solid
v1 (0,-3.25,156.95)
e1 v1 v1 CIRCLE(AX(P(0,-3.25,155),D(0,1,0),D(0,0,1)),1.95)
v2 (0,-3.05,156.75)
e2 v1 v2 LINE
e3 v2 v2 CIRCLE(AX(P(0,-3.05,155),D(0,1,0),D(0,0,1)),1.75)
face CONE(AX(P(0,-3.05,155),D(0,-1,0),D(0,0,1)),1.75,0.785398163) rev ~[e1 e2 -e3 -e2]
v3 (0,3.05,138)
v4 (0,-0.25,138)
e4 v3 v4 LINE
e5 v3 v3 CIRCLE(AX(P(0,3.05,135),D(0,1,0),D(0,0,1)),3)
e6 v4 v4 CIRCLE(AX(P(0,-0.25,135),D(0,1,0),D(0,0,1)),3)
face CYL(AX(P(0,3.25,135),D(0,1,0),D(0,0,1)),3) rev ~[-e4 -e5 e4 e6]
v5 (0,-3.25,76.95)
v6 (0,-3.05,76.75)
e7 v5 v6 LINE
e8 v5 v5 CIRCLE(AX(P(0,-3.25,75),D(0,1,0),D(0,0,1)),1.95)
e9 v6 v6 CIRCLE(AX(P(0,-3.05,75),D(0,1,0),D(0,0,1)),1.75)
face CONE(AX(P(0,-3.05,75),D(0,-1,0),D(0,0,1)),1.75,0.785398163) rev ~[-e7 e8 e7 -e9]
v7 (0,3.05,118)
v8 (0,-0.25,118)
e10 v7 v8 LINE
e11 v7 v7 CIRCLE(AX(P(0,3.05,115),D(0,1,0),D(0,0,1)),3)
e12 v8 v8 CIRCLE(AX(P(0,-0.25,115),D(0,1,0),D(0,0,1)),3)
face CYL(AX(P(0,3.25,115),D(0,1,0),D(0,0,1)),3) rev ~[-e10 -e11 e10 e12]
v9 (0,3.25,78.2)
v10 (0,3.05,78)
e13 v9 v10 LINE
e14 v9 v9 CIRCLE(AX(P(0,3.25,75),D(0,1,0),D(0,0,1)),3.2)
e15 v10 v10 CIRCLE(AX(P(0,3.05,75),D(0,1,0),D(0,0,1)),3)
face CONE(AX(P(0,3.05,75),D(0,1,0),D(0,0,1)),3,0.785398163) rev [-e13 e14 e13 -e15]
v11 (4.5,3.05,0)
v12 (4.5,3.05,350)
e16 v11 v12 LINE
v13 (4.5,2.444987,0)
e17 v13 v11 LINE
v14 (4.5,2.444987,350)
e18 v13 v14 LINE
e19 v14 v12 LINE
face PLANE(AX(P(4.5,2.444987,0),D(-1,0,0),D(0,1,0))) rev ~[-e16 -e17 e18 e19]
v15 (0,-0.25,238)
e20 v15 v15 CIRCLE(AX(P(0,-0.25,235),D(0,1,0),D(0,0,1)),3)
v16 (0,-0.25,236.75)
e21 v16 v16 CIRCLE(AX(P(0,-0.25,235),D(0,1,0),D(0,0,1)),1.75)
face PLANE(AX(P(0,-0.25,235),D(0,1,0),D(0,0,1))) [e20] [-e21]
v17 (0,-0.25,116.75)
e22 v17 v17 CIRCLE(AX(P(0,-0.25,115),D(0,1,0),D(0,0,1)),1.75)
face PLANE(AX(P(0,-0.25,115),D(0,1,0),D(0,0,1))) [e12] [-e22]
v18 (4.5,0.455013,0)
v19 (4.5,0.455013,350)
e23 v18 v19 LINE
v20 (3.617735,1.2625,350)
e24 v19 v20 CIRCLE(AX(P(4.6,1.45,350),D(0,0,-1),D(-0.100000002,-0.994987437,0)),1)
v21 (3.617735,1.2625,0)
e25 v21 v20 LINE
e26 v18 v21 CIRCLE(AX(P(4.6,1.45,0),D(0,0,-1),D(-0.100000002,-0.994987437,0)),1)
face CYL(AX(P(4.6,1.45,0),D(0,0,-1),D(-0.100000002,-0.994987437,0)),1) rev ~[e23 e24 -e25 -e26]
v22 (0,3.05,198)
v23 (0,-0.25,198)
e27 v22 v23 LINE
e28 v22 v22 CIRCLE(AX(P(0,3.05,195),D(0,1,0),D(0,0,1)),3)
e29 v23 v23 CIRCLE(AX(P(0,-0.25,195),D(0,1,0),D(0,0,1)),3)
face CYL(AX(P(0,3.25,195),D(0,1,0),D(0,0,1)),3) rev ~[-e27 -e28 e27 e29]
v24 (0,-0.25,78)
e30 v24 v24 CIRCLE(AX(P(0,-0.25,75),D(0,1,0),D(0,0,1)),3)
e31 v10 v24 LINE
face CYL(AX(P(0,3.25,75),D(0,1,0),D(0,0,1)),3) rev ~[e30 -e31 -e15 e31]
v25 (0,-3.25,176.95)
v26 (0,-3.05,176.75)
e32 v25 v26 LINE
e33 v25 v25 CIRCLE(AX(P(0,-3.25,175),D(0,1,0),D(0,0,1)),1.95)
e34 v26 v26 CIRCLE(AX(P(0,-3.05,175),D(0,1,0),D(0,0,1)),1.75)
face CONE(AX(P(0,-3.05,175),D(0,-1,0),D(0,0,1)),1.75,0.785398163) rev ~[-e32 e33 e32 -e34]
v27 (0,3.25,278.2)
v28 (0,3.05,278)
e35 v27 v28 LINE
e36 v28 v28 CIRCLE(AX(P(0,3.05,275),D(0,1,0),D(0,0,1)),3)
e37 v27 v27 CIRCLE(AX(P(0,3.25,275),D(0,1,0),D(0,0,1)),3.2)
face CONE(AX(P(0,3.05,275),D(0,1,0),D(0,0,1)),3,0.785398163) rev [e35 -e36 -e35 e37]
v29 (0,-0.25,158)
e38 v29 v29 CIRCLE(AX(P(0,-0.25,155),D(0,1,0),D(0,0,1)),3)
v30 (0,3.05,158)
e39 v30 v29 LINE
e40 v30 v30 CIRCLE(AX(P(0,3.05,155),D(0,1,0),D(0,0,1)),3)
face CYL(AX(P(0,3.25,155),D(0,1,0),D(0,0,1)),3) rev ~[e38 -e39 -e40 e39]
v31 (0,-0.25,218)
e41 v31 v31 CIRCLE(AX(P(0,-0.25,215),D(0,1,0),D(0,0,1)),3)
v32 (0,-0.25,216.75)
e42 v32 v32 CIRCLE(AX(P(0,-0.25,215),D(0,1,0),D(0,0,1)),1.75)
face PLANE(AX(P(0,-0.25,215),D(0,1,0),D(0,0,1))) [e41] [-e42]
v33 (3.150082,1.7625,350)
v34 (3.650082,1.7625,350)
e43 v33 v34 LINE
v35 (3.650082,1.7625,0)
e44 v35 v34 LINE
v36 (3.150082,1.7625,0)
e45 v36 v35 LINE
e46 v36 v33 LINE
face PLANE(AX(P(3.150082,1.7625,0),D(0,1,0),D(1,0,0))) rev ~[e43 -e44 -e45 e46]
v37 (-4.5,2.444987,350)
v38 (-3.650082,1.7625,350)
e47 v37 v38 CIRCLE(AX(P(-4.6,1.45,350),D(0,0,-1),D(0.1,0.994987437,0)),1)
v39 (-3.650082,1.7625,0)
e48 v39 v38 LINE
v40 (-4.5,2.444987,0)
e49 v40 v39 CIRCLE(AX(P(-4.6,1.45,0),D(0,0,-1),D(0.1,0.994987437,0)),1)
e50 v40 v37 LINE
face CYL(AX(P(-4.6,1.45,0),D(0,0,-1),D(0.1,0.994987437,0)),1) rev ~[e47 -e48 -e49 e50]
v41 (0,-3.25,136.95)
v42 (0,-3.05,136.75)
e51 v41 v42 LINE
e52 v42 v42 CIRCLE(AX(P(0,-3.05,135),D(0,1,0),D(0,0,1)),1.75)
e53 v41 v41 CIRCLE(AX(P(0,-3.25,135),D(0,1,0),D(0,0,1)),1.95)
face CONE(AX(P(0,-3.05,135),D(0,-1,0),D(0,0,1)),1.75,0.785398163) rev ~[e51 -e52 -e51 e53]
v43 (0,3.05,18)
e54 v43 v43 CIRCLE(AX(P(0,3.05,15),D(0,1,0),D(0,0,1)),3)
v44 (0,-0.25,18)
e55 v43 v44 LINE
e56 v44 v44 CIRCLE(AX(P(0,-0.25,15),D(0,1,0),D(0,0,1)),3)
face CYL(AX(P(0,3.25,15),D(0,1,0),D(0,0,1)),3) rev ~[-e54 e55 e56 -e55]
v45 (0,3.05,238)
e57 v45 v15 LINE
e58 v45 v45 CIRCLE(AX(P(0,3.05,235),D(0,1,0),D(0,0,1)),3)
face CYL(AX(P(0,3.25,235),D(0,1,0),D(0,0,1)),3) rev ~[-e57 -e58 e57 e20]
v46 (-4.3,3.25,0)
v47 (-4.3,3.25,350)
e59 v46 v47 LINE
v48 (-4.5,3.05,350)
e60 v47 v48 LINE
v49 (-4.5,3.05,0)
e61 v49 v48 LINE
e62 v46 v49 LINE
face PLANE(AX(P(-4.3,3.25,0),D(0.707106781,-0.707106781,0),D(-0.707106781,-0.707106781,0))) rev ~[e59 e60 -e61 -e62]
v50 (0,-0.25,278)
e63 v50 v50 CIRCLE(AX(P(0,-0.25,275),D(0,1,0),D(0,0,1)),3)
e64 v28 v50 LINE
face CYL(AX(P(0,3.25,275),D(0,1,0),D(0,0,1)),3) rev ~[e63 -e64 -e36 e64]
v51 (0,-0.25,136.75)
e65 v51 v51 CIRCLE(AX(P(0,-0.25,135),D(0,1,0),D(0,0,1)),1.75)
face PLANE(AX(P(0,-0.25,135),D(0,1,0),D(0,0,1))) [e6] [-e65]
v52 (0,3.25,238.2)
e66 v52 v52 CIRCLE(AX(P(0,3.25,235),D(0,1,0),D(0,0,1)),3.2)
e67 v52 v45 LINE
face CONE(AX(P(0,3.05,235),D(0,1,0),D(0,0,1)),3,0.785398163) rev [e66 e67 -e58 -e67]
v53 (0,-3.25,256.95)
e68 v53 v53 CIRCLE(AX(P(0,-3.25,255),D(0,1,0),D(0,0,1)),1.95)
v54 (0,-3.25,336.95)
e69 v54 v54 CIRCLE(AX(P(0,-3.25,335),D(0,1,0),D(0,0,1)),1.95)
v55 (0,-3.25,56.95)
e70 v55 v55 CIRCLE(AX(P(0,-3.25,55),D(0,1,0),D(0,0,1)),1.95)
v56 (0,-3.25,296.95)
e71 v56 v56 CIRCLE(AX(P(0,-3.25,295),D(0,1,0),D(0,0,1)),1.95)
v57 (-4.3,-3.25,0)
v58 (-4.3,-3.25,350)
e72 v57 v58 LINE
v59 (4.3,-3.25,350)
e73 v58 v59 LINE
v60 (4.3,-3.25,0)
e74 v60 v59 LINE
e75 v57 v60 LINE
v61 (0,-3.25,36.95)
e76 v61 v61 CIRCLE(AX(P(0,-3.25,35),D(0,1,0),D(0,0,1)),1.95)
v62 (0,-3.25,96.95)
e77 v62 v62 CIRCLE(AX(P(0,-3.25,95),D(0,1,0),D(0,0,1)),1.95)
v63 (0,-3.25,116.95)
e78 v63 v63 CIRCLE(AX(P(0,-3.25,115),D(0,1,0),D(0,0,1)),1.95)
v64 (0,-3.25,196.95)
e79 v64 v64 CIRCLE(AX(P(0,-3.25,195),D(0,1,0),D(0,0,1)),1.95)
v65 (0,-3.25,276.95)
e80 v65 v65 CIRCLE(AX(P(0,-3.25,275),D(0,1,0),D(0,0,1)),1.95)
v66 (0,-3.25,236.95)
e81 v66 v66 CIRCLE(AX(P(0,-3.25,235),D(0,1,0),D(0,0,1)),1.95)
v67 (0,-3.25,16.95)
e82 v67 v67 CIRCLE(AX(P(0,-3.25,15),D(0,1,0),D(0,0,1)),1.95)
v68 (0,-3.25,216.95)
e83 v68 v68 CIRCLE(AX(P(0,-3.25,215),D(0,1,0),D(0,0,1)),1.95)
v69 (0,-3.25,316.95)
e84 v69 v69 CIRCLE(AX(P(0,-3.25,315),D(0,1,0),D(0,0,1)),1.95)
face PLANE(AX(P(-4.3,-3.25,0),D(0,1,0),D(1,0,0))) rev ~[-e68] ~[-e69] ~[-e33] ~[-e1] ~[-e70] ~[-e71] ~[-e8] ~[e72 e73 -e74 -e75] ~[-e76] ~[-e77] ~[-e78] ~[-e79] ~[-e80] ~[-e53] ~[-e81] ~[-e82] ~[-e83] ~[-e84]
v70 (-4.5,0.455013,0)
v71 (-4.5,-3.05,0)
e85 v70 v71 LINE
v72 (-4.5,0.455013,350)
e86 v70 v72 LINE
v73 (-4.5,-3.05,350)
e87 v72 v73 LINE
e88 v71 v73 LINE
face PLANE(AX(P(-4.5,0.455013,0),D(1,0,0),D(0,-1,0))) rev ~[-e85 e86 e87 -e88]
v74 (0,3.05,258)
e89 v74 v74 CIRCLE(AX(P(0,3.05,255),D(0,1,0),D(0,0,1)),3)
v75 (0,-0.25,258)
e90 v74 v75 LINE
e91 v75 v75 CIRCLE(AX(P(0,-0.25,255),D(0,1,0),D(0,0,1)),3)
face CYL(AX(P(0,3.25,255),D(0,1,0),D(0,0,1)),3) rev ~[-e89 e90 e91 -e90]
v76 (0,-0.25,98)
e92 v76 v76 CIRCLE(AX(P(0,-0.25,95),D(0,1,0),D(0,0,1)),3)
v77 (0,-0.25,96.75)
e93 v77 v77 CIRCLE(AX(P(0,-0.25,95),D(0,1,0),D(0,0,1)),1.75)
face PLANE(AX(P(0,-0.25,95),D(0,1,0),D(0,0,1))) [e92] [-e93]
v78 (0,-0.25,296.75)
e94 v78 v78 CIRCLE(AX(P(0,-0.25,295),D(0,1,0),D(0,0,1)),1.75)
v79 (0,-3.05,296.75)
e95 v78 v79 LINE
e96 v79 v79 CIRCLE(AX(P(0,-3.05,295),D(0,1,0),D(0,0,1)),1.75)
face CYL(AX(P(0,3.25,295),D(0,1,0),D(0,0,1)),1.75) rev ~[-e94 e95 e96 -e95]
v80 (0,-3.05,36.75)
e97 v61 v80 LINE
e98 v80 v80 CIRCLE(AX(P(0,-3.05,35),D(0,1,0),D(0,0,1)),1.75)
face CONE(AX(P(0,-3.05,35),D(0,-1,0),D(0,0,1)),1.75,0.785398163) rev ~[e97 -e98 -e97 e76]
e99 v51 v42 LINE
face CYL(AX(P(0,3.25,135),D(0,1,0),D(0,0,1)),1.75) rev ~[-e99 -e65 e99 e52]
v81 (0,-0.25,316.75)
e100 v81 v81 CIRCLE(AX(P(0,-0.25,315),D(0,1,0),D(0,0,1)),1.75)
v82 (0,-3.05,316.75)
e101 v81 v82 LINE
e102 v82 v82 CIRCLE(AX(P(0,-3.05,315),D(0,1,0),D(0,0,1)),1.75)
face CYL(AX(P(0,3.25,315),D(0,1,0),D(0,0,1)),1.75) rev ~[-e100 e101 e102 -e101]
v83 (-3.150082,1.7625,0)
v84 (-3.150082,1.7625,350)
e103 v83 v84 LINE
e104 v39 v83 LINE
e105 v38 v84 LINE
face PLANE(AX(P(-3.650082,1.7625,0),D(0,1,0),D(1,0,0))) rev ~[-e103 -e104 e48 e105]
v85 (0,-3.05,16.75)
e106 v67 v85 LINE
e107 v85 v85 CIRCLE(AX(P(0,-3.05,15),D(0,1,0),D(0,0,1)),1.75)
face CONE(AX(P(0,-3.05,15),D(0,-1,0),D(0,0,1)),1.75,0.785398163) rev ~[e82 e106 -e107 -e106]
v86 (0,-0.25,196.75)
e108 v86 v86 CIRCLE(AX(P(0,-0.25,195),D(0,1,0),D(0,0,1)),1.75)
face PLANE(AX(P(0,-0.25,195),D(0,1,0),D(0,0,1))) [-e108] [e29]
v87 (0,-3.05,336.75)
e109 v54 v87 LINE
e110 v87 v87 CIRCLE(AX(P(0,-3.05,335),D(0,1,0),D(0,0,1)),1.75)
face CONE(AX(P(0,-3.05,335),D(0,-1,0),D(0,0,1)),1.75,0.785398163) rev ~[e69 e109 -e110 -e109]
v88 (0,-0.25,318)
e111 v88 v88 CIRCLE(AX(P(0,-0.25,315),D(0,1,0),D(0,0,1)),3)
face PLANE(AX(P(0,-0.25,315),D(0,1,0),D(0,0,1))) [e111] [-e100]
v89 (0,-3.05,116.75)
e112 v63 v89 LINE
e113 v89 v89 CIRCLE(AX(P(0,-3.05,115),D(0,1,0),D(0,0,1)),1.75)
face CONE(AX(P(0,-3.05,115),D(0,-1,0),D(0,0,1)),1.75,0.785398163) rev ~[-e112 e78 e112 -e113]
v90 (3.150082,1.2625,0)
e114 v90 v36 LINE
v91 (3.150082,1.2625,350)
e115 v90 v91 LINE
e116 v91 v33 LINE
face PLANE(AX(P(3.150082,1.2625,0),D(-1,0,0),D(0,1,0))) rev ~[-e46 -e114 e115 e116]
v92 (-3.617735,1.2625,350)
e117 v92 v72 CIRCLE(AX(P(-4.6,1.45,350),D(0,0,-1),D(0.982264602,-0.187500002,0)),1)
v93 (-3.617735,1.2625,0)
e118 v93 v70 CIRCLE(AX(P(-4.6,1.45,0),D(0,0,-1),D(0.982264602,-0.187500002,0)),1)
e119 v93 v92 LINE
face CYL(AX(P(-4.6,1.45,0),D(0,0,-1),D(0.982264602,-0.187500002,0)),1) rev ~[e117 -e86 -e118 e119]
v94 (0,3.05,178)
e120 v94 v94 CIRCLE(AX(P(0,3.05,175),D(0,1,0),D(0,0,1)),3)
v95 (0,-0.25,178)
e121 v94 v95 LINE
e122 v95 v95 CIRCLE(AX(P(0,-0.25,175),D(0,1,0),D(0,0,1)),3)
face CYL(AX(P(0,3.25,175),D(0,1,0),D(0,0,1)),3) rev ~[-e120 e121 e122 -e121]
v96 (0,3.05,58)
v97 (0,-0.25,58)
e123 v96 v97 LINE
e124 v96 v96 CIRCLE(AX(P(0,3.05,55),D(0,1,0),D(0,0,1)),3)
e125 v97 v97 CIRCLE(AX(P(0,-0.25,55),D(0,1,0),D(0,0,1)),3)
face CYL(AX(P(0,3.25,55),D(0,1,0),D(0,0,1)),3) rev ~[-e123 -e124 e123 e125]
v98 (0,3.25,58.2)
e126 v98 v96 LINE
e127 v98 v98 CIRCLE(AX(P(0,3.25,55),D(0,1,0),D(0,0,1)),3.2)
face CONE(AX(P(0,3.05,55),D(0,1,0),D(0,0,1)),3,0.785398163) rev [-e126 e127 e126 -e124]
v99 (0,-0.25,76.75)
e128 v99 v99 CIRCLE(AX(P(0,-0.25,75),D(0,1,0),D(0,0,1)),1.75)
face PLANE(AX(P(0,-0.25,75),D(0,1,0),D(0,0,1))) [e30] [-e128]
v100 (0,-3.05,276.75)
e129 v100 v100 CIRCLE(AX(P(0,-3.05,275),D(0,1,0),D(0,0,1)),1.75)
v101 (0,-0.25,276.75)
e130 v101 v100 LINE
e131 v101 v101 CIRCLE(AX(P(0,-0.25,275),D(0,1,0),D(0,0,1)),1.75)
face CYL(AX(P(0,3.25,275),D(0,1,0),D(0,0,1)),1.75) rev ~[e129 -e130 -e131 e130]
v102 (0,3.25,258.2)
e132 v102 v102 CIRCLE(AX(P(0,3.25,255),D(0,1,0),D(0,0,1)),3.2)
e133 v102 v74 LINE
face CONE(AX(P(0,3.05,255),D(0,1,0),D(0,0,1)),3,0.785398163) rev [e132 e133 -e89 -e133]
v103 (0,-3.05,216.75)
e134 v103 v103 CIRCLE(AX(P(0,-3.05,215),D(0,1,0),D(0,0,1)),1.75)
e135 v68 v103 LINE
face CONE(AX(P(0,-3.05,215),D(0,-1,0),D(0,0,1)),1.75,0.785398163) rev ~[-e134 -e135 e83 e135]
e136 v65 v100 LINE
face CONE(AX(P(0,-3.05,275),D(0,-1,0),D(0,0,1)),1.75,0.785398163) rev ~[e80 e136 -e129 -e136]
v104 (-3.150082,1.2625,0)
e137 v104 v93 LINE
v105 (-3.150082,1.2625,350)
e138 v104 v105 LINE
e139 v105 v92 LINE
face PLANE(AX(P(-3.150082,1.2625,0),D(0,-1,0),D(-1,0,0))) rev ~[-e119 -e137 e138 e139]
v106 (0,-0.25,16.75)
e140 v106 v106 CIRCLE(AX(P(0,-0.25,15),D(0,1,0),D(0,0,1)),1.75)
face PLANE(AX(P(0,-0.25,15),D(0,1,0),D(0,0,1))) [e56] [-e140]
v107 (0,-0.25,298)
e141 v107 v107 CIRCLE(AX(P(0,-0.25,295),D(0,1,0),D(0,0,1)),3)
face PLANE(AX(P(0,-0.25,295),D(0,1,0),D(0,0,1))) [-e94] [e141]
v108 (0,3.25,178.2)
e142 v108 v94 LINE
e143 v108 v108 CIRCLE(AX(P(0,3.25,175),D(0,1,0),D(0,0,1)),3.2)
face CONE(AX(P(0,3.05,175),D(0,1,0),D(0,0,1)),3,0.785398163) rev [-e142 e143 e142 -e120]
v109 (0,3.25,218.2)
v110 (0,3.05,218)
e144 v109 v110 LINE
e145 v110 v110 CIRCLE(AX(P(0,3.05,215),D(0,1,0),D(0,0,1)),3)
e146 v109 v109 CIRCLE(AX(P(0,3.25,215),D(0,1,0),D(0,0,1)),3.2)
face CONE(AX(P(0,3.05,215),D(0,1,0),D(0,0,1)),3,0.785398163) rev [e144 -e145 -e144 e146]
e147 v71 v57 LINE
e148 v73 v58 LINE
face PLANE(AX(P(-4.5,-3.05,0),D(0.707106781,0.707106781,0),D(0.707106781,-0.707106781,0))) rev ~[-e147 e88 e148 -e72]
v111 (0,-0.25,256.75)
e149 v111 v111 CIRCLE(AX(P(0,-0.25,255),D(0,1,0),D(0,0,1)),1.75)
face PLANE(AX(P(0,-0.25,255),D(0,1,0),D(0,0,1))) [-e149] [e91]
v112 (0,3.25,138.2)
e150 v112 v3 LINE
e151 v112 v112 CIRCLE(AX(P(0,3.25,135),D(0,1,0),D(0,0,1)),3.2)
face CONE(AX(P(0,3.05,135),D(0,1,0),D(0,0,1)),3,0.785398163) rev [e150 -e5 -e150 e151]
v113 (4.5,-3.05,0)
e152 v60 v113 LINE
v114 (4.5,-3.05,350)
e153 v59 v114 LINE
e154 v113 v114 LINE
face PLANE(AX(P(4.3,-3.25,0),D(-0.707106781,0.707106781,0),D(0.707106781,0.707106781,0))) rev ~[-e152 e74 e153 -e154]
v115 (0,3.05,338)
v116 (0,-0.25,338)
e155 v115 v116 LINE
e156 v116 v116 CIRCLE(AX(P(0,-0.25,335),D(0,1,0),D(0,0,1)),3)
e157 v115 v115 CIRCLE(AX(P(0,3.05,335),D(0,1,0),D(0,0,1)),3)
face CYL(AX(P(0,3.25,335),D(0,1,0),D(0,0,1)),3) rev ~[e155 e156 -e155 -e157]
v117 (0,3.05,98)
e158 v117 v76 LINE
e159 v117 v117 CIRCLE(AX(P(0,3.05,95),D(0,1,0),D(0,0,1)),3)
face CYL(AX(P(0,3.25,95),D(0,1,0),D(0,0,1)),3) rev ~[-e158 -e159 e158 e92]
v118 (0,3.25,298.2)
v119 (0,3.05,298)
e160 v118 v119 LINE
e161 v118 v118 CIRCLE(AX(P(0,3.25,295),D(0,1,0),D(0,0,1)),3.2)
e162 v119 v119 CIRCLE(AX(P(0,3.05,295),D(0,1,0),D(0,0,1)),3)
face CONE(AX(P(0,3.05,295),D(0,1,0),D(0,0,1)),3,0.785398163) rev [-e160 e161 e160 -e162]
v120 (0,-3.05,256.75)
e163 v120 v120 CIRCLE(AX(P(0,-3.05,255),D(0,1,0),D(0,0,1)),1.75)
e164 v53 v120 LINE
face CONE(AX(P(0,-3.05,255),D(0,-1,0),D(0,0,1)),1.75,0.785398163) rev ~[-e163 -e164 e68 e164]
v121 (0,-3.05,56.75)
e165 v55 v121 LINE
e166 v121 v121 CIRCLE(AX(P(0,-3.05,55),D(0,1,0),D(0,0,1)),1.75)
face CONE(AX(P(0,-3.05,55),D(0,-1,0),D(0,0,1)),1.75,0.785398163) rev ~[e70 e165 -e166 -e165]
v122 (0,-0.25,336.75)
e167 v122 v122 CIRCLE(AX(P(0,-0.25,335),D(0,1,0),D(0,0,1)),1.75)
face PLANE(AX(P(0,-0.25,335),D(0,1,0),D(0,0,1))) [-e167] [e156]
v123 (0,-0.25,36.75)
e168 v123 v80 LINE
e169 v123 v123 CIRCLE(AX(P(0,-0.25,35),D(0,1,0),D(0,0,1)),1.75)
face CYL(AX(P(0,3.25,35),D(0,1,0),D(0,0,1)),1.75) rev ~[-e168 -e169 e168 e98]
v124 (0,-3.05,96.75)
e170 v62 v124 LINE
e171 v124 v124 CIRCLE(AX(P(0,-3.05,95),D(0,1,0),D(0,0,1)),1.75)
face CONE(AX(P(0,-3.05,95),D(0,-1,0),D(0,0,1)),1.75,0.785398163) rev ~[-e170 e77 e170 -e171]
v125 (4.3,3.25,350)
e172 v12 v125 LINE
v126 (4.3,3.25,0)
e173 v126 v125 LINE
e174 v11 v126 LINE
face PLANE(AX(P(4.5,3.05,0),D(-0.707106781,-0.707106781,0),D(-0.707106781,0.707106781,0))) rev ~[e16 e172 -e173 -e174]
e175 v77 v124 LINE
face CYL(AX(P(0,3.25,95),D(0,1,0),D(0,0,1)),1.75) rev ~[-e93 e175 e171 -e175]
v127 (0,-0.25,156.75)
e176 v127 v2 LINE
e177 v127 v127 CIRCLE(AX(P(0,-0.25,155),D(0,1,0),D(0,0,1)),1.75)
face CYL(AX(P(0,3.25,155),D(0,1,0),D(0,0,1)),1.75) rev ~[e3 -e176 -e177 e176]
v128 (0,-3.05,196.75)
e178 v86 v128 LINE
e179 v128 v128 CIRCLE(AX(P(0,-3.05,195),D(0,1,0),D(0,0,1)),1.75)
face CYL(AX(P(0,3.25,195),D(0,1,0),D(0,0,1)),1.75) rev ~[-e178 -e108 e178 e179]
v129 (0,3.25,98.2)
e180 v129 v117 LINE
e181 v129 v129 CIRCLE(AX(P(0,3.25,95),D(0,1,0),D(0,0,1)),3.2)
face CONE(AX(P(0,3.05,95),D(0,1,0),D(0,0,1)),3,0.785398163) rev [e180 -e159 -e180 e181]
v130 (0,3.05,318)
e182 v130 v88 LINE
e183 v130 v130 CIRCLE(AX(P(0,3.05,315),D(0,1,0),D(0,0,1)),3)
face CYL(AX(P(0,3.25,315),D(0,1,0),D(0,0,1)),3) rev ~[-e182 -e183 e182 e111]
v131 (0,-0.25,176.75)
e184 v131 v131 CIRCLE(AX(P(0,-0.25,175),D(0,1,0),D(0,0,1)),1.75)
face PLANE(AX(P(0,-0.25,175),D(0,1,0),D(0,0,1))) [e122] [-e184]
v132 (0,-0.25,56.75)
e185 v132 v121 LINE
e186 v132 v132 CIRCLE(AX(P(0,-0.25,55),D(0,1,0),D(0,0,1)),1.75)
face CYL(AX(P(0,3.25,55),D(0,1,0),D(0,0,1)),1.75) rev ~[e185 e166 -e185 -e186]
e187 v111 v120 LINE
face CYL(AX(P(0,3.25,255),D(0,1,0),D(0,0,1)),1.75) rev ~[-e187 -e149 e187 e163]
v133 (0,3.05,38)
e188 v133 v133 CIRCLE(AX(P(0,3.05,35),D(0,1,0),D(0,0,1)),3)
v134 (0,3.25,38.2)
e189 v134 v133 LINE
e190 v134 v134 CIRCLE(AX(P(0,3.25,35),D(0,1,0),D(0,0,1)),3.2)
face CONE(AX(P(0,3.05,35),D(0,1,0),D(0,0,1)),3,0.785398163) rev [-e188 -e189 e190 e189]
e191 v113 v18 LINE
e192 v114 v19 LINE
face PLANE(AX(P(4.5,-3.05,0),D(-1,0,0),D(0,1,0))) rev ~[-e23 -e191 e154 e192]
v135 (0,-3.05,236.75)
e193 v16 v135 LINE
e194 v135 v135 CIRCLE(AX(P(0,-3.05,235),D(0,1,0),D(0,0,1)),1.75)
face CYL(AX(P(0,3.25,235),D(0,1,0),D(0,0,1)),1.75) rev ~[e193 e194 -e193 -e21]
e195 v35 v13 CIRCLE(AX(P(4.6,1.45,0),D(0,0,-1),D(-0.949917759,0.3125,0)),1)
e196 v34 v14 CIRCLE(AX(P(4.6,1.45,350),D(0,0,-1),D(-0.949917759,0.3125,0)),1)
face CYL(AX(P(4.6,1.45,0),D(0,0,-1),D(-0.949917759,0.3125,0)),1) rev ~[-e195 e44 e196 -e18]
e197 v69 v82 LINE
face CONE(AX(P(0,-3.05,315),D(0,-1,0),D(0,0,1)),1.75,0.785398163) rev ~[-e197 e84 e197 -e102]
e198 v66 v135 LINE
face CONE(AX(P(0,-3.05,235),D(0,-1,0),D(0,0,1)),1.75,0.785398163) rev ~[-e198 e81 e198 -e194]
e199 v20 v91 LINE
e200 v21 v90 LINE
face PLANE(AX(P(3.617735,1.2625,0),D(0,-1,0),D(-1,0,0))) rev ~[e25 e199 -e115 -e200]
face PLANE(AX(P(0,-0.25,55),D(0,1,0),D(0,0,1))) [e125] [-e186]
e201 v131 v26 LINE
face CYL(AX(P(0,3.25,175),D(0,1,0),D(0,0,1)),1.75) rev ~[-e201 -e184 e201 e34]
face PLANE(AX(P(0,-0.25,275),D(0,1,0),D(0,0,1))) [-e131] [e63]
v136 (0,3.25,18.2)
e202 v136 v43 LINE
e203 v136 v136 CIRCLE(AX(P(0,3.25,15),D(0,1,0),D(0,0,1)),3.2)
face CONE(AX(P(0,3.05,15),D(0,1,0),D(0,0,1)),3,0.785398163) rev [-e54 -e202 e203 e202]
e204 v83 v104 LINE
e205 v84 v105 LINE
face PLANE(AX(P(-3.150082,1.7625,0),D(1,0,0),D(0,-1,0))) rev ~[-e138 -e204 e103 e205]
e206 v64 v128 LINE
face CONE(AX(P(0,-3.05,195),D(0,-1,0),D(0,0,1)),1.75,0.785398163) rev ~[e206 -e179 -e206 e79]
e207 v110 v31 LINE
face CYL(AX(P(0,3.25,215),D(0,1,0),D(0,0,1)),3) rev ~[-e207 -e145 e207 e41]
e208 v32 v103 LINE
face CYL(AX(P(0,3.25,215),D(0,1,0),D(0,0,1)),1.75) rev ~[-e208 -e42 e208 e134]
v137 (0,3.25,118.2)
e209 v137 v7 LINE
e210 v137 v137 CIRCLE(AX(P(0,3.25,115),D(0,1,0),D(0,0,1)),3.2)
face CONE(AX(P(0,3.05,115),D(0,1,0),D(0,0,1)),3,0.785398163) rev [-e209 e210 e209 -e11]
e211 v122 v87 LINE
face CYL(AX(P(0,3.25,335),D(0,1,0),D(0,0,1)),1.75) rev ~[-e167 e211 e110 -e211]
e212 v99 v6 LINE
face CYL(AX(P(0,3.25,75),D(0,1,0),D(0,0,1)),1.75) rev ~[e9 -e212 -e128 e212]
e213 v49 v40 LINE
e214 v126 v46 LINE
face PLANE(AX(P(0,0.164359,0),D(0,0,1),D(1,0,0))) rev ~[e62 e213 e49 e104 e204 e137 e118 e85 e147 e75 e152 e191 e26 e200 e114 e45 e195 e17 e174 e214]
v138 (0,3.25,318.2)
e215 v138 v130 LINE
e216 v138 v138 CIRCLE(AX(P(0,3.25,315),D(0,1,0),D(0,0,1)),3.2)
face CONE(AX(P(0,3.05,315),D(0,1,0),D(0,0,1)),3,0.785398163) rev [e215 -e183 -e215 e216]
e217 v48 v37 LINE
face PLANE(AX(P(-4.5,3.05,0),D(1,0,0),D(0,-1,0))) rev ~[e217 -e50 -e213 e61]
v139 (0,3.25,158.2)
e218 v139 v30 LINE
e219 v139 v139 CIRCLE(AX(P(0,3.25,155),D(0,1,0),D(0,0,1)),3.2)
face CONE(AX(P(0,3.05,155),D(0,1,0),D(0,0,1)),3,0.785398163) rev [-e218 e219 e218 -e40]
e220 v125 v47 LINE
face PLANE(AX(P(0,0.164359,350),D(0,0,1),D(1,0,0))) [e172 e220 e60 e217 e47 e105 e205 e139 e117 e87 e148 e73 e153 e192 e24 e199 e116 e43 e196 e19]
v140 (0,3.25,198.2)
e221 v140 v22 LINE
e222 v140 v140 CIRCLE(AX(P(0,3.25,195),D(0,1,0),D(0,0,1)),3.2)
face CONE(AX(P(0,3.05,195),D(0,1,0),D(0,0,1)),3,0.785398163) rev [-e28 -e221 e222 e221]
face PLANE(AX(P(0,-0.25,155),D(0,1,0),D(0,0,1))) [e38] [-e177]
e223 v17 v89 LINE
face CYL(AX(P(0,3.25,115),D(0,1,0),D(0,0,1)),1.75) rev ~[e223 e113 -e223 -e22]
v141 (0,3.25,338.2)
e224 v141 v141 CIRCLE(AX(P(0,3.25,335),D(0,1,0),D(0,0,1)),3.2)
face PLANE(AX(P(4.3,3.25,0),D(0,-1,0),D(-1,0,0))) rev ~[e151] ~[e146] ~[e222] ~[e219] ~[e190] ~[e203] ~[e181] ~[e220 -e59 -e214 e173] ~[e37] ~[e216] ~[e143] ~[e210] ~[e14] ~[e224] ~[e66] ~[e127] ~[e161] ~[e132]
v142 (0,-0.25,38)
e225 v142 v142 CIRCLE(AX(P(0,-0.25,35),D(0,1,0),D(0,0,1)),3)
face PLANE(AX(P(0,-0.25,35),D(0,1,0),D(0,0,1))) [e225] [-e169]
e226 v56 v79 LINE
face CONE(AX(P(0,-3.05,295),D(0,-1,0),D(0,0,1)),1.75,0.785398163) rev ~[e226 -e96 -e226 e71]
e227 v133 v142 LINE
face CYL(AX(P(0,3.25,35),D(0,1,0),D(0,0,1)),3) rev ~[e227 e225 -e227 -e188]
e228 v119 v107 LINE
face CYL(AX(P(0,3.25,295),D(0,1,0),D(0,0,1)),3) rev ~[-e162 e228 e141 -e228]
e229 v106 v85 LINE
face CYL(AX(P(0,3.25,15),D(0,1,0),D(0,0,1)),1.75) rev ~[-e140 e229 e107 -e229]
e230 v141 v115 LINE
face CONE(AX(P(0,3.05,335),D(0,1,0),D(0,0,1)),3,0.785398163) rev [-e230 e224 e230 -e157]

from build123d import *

# Parameters (mm, degrees)
EXTRUDE1_DEPTH             = 350
EXTRUDE2_REACH             = 352.089
SKETCH2_R                  = 1.75
SKETCH_R                   = 3
SKETCH_R_2                 = 1.75
EXTRUDE4_DEPTH             = 3.5
CHAMFER1_SIZE              = 0.2
LPATTERN1_COUNT            = 17
LPATTERN1_PITCH            = 20
CHAMFER1_OF_LPATTERN1_SIZE = 0.2


with BuildPart() as part:
    # Sketch1 → Extrude1 (new body)
    with BuildSketch(Plane.XY):
        with BuildLine():
            Line((-4.3, -3.25), (4.3, -3.25))
            Line((4.3, -3.25), (4.5, -3.05))
            Line((4.5, -3.05), (4.5, 0.455012563))
            ThreePointArc((4.5, 0.455012563), (3.924845827, 0.712323349), (3.617735397, 1.2625))
            Line((3.617735397, 1.2625), (3.15008224, 1.2625))
            Line((3.15008224, 1.2625), (3.15008224, 1.7625))
            Line((3.15008224, 1.7625), (3.65008224, 1.7625))
            ThreePointArc((3.65008224, 1.7625), (3.973877727, 2.229724887), (4.5, 2.444987437))
            Line((4.5, 2.444987437), (4.5, 3.05))
            Line((4.5, 3.05), (4.3, 3.25))
            Line((4.3, 3.25), (-4.3, 3.25))
            Line((-4.3, 3.25), (-4.5, 3.05))
            Line((-4.5, 3.05), (-4.5, 2.444987437))
            ThreePointArc((-4.5, 2.444987437), (-3.973877727, 2.229724887), (-3.65008224, 1.7625))
            Line((-3.65008224, 1.7625), (-3.15008224, 1.7625))
            Line((-3.15008224, 1.7625), (-3.15008224, 1.2625))
            Line((-3.15008224, 1.2625), (-3.617735397, 1.2625))
            ThreePointArc((-3.617735397, 1.2625), (-3.924845827, 0.712323349), (-4.5, 0.455012563))
            Line((-4.5, 0.455012563), (-4.5, -3.05))
            Line((-4.5, -3.05), (-4.3, -3.25))
        make_face()
    extrude(amount=EXTRUDE1_DEPTH)

    # Sketch2 → Extrude2 (cut, up to next)
    with BuildSketch(Plane(origin=(0, 3.25, 0), x_dir=(1, 0, 0), z_dir=(0, 1, 0)), mode=Mode.PRIVATE) as extrude2_sk1:
        with Locations((0, -15)):
            Circle(SKETCH2_R)
    extrude2_tool1 = extrude(extrude2_sk1.sketch, amount=-EXTRUDE2_REACH, mode=Mode.PRIVATE) & part.part
    extrude2 = extrude2_tool1.solids().sort_by_distance((0, 3.25, 15))[0]
    add(extrude2, mode=Mode.SUBTRACT)

    # Sketch → Extrude4 (cut)
    with BuildSketch(Plane(origin=(0, 3.25, 0), x_dir=(1, 0, 0), z_dir=(0, 1, 0))):
        with Locations((0, -15)):
            Circle(SKETCH_R)
        with Locations((0, -15)):
            Circle(SKETCH_R_2, mode=Mode.SUBTRACT)
    extrude4 = extrude(amount=-EXTRUDE4_DEPTH, mode=Mode.SUBTRACT)

    # Chamfer1
    chamfer1_edges = [part.edges().sort_by_distance(p)[0] for p in [
        (-1.75, -3.25, 15),
        (-3, 3.25, 15),
    ]]
    chamfer(chamfer1_edges, length=CHAMFER1_SIZE)

    # LPattern1: Extrude2, Extrude4 ×17
    with Locations(*[(0, 0, i * LPATTERN1_PITCH) for i in range(1, LPATTERN1_COUNT)]):
        add(extrude2, mode=Mode.SUBTRACT)
        add(extrude4, mode=Mode.SUBTRACT)

    # Chamfer1 of LPattern1
    chamfer1_of_lpattern1_edges = [part.edges().sort_by_distance(p)[0] for p in [
        (-1.75, -3.25, 35),
        (-3, 3.25, 35),
        (-1.75, -3.25, 55),
        (-3, 3.25, 55),
        (-1.75, -3.25, 75),
        (-3, 3.25, 75),
        (-1.75, -3.25, 95),
        (-3, 3.25, 95),
        (-1.75, -3.25, 115),
        (-3, 3.25, 115),
        (-1.75, -3.25, 135),
        (-3, 3.25, 135),
        (-1.75, -3.25, 155),
        (-3, 3.25, 155),
        (-1.75, -3.25, 175),
        (-3, 3.25, 175),
        (-1.75, -3.25, 195),
        (-3, 3.25, 195),
        (-1.75, -3.25, 215),
        (-3, 3.25, 215),
        (-1.75, -3.25, 235),
        (-3, 3.25, 235),
        (-1.75, -3.25, 255),
        (-3, 3.25, 255),
        (-1.75, -3.25, 275),
        (-3, 3.25, 275),
        (-1.75, -3.25, 295),
        (-3, 3.25, 295),
        (-1.75, -3.25, 315),
        (-3, 3.25, 315),
        (-1.75, -3.25, 335),
        (-3, 3.25, 335),
    ]]
    chamfer(chamfer1_of_lpattern1_edges, length=CHAMFER1_OF_LPATTERN1_SIZE)


solid = part.part
